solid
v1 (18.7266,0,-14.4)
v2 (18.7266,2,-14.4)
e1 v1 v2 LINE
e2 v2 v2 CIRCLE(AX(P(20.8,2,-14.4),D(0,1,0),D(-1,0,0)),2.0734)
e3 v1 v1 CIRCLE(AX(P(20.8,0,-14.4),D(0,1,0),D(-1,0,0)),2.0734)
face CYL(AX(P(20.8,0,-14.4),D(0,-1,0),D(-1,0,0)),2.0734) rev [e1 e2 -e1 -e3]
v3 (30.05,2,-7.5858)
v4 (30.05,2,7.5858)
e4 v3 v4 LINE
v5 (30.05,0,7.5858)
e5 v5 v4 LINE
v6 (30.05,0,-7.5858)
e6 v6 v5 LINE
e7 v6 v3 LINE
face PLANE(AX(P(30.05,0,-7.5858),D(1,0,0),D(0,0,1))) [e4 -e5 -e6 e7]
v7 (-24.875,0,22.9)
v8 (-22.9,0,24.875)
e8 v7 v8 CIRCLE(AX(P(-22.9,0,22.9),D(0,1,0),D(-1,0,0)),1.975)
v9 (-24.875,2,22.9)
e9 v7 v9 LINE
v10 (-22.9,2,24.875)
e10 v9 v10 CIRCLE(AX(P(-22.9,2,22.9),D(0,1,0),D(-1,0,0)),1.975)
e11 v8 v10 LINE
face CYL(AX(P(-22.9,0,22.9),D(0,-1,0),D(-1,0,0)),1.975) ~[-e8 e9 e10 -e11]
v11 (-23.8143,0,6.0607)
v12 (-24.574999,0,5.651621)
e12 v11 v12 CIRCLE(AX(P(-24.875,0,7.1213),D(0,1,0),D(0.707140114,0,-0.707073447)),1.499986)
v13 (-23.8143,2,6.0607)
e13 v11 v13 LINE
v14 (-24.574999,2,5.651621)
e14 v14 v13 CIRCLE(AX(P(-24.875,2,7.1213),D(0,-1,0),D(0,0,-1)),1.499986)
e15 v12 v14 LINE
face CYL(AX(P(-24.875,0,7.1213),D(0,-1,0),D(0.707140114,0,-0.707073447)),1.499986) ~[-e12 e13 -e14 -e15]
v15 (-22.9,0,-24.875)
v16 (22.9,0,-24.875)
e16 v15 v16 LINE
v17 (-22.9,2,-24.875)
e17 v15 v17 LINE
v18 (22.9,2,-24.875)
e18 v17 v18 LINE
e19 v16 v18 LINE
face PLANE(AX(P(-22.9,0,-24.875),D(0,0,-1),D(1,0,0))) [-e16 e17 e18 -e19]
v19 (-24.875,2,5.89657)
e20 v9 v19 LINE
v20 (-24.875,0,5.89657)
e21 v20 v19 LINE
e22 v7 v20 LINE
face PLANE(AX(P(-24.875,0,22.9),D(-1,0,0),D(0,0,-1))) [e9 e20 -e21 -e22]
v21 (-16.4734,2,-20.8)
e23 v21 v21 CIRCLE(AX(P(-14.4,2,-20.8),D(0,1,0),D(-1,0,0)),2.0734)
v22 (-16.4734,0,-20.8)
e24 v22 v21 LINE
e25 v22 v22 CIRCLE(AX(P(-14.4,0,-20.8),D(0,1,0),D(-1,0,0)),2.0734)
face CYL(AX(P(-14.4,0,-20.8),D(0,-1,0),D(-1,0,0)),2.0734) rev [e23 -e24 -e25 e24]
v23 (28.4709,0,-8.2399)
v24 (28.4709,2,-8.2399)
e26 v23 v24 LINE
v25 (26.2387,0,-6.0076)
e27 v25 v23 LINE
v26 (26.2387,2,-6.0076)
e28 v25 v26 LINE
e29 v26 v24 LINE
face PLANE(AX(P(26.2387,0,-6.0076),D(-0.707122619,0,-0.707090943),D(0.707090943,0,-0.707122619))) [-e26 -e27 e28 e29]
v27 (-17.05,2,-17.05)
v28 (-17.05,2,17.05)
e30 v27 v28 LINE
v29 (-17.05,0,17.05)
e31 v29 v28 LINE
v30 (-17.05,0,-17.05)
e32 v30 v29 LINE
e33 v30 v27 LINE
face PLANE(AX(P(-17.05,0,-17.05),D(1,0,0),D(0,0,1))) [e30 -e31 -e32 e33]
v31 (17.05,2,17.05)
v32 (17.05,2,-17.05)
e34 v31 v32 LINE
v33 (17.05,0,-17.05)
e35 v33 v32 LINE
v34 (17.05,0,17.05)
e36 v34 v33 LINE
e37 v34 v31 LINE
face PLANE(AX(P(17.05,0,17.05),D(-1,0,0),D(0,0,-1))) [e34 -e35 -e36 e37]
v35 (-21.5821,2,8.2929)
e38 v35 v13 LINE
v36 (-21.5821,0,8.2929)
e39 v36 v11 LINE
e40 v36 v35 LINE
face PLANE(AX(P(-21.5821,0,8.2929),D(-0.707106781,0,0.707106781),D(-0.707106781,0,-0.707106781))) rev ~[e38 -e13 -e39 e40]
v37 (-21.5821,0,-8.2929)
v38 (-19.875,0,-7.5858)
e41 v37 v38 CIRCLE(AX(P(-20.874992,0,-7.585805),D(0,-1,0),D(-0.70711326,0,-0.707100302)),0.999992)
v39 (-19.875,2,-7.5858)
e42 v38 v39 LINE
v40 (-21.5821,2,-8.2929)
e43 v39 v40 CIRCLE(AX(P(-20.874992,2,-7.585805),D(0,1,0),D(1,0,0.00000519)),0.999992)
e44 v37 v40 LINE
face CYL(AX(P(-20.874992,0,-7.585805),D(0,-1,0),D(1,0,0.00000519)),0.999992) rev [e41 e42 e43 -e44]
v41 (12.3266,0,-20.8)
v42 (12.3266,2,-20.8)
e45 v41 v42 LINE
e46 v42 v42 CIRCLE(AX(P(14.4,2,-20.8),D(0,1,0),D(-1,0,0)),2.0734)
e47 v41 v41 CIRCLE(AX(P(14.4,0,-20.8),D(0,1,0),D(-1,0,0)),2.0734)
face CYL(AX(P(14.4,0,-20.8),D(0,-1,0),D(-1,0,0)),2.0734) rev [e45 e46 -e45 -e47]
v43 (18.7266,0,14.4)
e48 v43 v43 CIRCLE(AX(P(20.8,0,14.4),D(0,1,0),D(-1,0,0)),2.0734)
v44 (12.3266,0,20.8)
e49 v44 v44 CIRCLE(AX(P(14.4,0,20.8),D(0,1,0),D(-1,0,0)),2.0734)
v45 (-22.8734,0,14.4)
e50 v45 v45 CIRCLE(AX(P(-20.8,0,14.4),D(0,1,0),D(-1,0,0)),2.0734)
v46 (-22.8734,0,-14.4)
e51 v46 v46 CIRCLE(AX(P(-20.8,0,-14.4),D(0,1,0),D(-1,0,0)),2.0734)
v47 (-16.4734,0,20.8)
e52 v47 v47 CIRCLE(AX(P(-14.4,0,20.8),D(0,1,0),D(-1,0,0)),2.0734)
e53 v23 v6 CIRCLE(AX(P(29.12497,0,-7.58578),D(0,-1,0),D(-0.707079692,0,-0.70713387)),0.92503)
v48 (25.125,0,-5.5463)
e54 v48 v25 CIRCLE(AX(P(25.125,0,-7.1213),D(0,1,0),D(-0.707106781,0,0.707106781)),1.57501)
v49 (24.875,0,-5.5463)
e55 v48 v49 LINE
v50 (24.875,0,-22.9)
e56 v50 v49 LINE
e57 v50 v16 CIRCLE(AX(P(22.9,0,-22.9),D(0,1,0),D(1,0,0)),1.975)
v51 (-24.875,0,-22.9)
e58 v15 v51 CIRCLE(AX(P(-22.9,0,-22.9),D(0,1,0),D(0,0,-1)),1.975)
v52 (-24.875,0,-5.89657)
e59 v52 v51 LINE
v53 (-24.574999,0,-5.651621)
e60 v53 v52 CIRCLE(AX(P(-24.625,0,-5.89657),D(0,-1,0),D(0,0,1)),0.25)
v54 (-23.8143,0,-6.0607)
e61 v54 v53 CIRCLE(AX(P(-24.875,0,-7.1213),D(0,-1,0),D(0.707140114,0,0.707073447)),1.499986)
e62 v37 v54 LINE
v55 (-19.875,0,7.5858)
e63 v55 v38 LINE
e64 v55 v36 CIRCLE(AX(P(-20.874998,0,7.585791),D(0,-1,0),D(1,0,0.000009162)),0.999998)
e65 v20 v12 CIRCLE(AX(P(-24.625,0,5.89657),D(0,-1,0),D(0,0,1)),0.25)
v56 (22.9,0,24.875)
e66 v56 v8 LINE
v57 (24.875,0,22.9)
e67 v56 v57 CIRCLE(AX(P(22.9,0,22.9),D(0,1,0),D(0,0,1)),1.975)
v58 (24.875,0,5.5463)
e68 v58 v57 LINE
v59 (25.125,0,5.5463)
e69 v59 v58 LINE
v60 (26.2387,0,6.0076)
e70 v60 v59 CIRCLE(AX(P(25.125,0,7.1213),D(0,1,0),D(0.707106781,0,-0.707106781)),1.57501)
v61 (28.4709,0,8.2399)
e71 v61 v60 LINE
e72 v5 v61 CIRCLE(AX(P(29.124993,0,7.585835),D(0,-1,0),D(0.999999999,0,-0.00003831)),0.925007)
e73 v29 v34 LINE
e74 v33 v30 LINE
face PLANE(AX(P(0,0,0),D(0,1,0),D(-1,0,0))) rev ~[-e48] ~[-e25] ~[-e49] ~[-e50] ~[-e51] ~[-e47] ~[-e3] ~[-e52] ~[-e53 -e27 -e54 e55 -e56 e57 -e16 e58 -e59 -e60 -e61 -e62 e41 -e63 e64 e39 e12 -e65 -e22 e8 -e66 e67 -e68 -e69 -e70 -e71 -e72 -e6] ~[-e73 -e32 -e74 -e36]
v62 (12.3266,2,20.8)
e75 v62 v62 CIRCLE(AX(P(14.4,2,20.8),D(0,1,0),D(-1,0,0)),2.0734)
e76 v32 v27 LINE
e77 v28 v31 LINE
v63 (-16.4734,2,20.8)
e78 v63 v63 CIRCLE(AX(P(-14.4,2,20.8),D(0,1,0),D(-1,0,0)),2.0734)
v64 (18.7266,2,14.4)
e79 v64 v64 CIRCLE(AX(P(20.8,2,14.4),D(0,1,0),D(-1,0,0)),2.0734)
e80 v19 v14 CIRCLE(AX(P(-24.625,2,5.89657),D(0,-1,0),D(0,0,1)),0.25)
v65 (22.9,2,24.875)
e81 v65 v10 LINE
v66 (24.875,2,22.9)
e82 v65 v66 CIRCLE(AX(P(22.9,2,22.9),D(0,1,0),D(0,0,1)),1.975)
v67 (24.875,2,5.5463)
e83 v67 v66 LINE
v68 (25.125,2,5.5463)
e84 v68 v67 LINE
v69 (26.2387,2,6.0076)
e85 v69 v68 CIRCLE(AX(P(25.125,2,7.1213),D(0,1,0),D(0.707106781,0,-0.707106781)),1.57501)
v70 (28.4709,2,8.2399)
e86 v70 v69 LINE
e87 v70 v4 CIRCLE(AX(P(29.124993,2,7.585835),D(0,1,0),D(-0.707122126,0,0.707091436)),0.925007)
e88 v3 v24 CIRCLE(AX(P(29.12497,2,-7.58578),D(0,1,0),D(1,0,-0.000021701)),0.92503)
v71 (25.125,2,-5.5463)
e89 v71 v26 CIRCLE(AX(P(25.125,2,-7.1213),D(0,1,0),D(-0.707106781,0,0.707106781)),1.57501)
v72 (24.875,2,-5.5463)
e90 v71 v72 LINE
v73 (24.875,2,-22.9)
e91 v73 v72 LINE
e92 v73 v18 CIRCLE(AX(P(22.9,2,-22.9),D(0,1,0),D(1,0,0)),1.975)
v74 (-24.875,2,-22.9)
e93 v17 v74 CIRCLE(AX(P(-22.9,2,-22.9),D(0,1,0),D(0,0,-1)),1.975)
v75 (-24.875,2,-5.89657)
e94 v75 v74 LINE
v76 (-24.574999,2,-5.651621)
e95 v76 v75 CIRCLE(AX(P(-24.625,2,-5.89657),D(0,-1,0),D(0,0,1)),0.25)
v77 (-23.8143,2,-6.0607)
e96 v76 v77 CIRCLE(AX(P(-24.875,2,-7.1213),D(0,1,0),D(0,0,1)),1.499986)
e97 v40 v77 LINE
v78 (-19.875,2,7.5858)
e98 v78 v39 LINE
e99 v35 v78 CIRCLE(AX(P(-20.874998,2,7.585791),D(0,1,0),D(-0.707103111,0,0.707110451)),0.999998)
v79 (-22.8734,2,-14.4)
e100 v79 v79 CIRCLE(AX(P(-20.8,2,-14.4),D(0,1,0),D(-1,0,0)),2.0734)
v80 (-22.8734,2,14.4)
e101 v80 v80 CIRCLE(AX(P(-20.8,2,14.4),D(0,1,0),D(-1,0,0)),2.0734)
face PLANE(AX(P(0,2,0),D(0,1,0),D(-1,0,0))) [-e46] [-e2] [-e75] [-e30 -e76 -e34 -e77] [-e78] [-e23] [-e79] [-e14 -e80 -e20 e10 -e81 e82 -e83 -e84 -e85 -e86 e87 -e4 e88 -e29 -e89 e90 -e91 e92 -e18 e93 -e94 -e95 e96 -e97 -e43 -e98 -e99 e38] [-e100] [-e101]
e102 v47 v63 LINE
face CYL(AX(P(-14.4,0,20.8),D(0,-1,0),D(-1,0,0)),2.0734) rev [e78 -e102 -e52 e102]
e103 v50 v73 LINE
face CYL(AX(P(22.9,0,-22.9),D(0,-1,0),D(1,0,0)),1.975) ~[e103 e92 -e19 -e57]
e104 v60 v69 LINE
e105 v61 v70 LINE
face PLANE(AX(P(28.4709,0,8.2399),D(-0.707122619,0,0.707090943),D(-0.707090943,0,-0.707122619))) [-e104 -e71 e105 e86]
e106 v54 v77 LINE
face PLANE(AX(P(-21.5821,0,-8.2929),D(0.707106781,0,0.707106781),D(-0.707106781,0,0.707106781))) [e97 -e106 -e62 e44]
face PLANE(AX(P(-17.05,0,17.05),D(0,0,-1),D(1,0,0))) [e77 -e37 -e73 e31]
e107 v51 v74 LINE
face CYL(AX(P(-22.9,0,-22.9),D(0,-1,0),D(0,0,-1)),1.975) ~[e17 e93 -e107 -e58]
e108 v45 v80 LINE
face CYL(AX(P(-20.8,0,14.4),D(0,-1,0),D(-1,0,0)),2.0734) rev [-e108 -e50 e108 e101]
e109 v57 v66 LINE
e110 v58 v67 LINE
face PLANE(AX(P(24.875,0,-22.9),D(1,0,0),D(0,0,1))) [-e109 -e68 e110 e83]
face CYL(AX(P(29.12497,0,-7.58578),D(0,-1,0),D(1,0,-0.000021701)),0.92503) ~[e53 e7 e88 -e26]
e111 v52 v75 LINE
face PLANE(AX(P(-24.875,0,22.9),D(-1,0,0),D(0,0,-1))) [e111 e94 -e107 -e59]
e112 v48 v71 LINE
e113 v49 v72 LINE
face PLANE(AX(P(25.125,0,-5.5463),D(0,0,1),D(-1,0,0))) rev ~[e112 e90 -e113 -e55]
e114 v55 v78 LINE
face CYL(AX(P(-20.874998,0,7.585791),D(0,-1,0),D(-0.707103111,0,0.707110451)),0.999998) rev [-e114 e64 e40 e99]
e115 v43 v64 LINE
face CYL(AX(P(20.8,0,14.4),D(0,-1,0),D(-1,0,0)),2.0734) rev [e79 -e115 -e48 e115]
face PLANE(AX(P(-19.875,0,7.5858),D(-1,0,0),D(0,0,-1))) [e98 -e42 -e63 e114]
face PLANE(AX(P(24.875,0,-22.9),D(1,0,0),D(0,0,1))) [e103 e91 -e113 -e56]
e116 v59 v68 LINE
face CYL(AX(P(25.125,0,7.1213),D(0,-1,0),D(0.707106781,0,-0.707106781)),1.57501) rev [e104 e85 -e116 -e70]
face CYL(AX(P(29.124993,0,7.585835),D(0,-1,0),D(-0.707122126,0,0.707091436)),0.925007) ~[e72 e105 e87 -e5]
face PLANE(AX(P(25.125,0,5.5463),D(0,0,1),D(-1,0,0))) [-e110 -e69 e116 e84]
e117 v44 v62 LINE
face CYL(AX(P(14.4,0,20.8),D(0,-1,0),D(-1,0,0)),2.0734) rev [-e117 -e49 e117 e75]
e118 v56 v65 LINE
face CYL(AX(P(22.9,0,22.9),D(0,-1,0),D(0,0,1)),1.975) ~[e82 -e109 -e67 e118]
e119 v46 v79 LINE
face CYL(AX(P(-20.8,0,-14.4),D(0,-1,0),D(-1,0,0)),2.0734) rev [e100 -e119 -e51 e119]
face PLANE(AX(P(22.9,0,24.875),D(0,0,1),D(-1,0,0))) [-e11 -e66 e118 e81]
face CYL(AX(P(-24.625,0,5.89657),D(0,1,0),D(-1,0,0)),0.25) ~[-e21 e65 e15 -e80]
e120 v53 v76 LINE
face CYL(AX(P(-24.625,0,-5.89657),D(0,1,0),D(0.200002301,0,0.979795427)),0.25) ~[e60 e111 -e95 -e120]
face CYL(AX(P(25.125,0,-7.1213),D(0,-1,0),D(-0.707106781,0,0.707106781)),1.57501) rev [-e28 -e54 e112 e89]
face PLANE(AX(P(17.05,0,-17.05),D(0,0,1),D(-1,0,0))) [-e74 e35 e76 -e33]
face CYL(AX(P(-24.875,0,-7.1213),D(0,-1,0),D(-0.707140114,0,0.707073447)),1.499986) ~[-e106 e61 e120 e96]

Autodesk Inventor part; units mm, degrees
ref_plane "YZ Plane" through (0, 0, 0) normal (1, 0, 0) x (0, 1, 0)
ref_plane "XZ Plane" through (0, 0, 0) normal (0, 1, 0) x (-1, 0, 0)
ref_plane "XY Plane" through (0, 0, 0) normal (0, 0, 1) x (1, 0, 0)
sketch "Sketch1" plane through (0, 0, 0) normal (0, 1, 0) x (-1, 0, 0)
  circle A0 centre (-21.9, -21.9) radius 1.875 projected
  circle A1 centre (21.9, 21.9) radius 1.875 projected
  circle A2 centre (21.9, -21.9) radius 1.875 projected
  circle A3 centre (-21.9, 21.9) radius 1.875 projected
  circle A4 centre (14.4, 20.8) radius 2.0734 projected
  circle A5 centre (-14.4, -20.8) radius 2.0734 projected
  circle A6 centre (14.4, -20.8) radius 2.0734 projected
  circle A7 centre (20.8, -14.4) radius 2.0734 projected
  line L0 (-17.05, 17.05) -> (-17.05, -17.05) projected
  line L1 (17.05, 17.05) -> (-17.05, 17.05) projected
  line L2 (17.05, -17.05) -> (17.05, 17.05) projected
  line L3 (-17.05, -17.05) -> (17.05, -17.05) projected
  circle A8 centre (20.8, 14.4) radius 2.0734 projected
  circle A9 centre (-14.4, 20.8) radius 2.0734 projected
  circle A10 centre (-20.8, -14.4) radius 2.0734 projected
  circle A11 centre (-20.8, 14.4) radius 2.0734 projected
  line L4 (-22.9, 24.875) -> (22.9, 24.875) projected
  arc A12 (-22.9, 24.875) -> (-24.875, 22.9) centre (-22.9, 22.9) ccw projected
  line L5 (-24.875, -22.9) -> (-24.875, 22.9) projected
  arc A13 (-24.875, -22.9) -> (-22.9, -24.875) centre (-22.9, -22.9) ccw projected
  line L6 (22.9, -24.875) -> (-22.9, -24.875) projected
  arc A14 (22.9, -24.875) -> (24.875, -22.9) centre (22.9, -22.9) ccw projected
  line L7 (24.875, 22.9) -> (24.875, -22.9) projected
  arc A15 (24.875, 22.9) -> (22.9, 24.875) centre (22.9, 22.9) ccw projected
  arc A16 (24.9, 22.9) -> (22.9, 24.9) centre (22.9, 22.9) ccw projected
  line L8 (22.9, 24.9) -> (-22.9, 24.9) projected
  arc A17 (-22.9, 24.9) -> (-24.9, 22.9) centre (-22.9, 22.9) ccw projected
  line L9 (-24.9, 22.9) -> (-24.9, -22.9) projected
  arc A18 (-24.9, -22.9) -> (-22.9, -24.9) centre (-22.9, -22.9) ccw projected
  line L10 (-22.9, -24.9) -> (22.9, -24.9) projected
  arc A19 (22.9, -24.9) -> (24.9, -22.9) centre (22.9, -22.9) ccw projected
  line L11 (24.9, -22.9) -> (24.9, 22.9) projected
  point P0 (0, 0)
extrude "Extrusion1" add sketch "Sketch1" along normal blind 2 contours A0 | A1 | A2 | A3 | L4 A15 L7 A14 L6 A13 L5 A12
sketch "Sketch2" plane through (0, 0, 0) normal (0, 1, 0) x (-1, 0, 0)
  line L0 (-7.5858, -29.875) -> (7.5858, -29.875)
  line L1 (10, -29.875) -> (10, -19.875)
  line L2 (7.5858, -19.875) -> (-7.5858, -19.875)
  line L3 (-10, -19.875) -> (-10, -29.875)
  line L4 (-10, -29.875) -> (10, -19.875) construction
  line L5 (10, -29.875) -> (-10, -19.875) construction
  line L6 (-8.2929, -21.5821) -> (-6.0607, -23.8143)
  line L7 (-10, -19.875) -> (-6.8431, -19.875) construction
  line L8 (8.2929, -21.5821) -> (6.0607, -23.8143)
  line L9 (-8.2929, -28.1679) -> (-6.0607, -25.9357)
  line L10 (8.2929, -28.1679) -> (6.0607, -25.9357)
  arc A0 (-8.2929, -28.1679) -> (-7.5858, -29.875) centre (-7.5858, -28.875) ccw
  arc A1 (7.5858, -29.875) -> (8.2929, -28.1679) centre (7.5858, -28.875) ccw
  arc A2 (-6.0607, -25.9357) -> (-6.0607, -23.8143) centre (-7.1213, -24.875) ccw
  arc A3 (6.0607, -23.8143) -> (6.0607, -25.9357) centre (7.1213, -24.875) ccw
  arc A4 (-7.5858, -19.875) -> (-8.2929, -21.5821) centre (-7.5858, -20.875) ccw
  arc A5 (8.2929, -21.5821) -> (7.5858, -19.875) centre (7.5858, -20.875) ccw
  line L11 (-7.5858, -19.95) -> (7.5858, -19.95)
  arc A6 (8.2399, -21.5291) -> (7.5858, -19.95) centre (7.5858, -20.875) ccw
  line L12 (8.2399, -21.5291) -> (6.0076, -23.7613)
  arc A7 (6.0076, -23.7613) -> (6.0076, -25.9887) centre (7.1213, -24.875) ccw
  line L13 (6.0076, -25.9887) -> (8.2399, -28.2209)
  arc A8 (7.5858, -29.8) -> (8.2399, -28.2209) centre (7.5858, -28.875) ccw
  line L14 (7.5858, -29.8) -> (-7.5858, -29.8)
  arc A9 (-8.2399, -28.2209) -> (-7.5858, -29.8) centre (-7.5858, -28.875) ccw
  line L15 (-8.2399, -28.2209) -> (-6.0076, -25.9887)
  arc A10 (-6.0076, -25.9887) -> (-6.0076, -23.7613) centre (-7.1213, -24.875) ccw
  line L16 (-6.0076, -23.7613) -> (-8.2399, -21.5291)
  arc A11 (-7.5858, -19.95) -> (-8.2399, -21.5291) centre (-7.5858, -20.875) ccw
  line L17 (-8.2399, 21.7791) -> (-6.0076, 24.0113)
  line L18 (-7.5858, 30.05) -> (7.5858, 30.05)
  line L19 (7.5858, 20.2) -> (-7.5858, 20.2)
  line L20 (-7.5858, 20.125) -> (7.5858, 20.125)
  line L21 (7.5858, 30.125) -> (-7.5858, 30.125)
  line L22 (10, 20.125) -> (-10, 30.125) construction
  line L23 (-10, 20.125) -> (10, 30.125) construction
  arc A12 (-6.0076, 24.0113) -> (-6.0076, 26.2387) centre (-7.1213, 25.125) ccw
  arc A13 (-6.0607, 24.0643) -> (-6.0607, 26.1857) centre (-7.1213, 25.125) ccw
  arc A14 (-7.5858, 30.05) -> (-8.2399, 28.4709) centre (-7.5858, 29.125) ccw
  arc A15 (-7.5858, 30.125) -> (-8.2929, 28.4179) centre (-7.5858, 29.125) ccw
  line L24 (-8.2929, 28.4179) -> (-6.0607, 26.1857)
  line L25 (-10, 30.125) -> (-6.8431, 30.125) construction
  line L26 (-10, 30.125) -> (-10, 20.125)
  arc A16 (-8.2399, 21.7791) -> (-7.5858, 20.2) centre (-7.5858, 21.125) ccw
  arc A17 (-8.2929, 21.8321) -> (-7.5858, 20.125) centre (-7.5858, 21.125) ccw
  line L27 (-8.2929, 21.8321) -> (-6.0607, 24.0643)
  line L28 (-6.0076, 26.2387) -> (-8.2399, 28.4709)
  line L29 (10, 20.125) -> (10, 30.125)
  line L30 (8.2929, 28.4179) -> (6.0607, 26.1857)
  line L31 (8.2929, 21.8321) -> (6.0607, 24.0643)
  arc A18 (7.5858, 20.125) -> (8.2929, 21.8321) centre (7.5858, 21.125) ccw
  arc A19 (6.0076, 26.2387) -> (6.0076, 24.0113) centre (7.1213, 25.125) ccw
  arc A20 (6.0607, 26.1857) -> (6.0607, 24.0643) centre (7.1213, 25.125) ccw
  arc A21 (7.5858, 20.2) -> (8.2399, 21.7791) centre (7.5858, 21.125) ccw
  line L32 (6.0076, 24.0113) -> (8.2399, 21.7791)
  line L33 (8.2399, 28.4709) -> (6.0076, 26.2387)
  arc A22 (8.2929, 28.4179) -> (7.5858, 30.125) centre (7.5858, 29.125) ccw
  arc A23 (8.2399, 28.4709) -> (7.5858, 30.05) centre (7.5858, 29.125) ccw
  line L34 (0, 24.875) -> (0, 25.125)
  line L35 (-22.9, -24.875) -> (22.9, -24.875) projected
  line L36 (22.9, 24.875) -> (-22.9, 24.875) projected
  line L37 (0, -24.875) -> (0, -24.875)
  line L38 (5.6213, 25.125) -> (5.5463, 25.125)
  line L39 (5.5463, 25.125) -> (5.5463, 24.875)
  line L40 (5.5463, 24.875) -> (5.6213, 24.875)
  line L41 (5.6213, 24.875) -> (5.6213, 25.125)
  line L42 (-5.6213, 25.125) -> (-5.5463, 25.125)
  line L43 (-5.5463, 25.125) -> (-5.5463, 24.875)
  line L44 (-5.5463, 24.875) -> (-5.6213, 24.875)
  line L45 (-5.6213, 24.875) -> (-5.6213, 25.125)
  line L46 (-5.6213, -24.875) -> (-5.5463, -24.875)
  line L47 (-5.5463, -24.875) -> (-5.5463, -24.875)
  line L48 (-5.5463, -24.875) -> (-5.6213, -24.875)
  line L49 (-5.6213, -24.875) -> (-5.6213, -24.875)
  line L50 (5.6213, -24.875) -> (5.5463, -24.875)
  line L51 (5.5463, -24.875) -> (5.5463, -24.875)
  line L52 (5.5463, -24.875) -> (5.6213, -24.875)
  line L53 (5.6213, -24.875) -> (5.6213, -24.875)
  arc A24 (19.95, -7.5858) -> (21.5291, -8.2399) centre (20.875, -7.5858) ccw
  arc A25 (19.875, -7.5858) -> (21.5821, -8.2929) centre (20.875, -7.5858) ccw
  line L54 (21.5821, -8.2929) -> (23.8143, -6.0607)
  line L55 (23.7613, -6.0076) -> (21.5291, -8.2399)
  arc A26 (25.9357, -6.0607) -> (23.8143, -6.0607) centre (24.875, -7.1213) ccw
  arc A27 (25.9887, -6.0076) -> (23.7613, -6.0076) centre (24.875, -7.1213) ccw
  line L56 (29.875, -7.5858) -> (29.875, 7.5858)
  line L57 (29.8, 7.5858) -> (29.8, -7.5858)
  line L58 (19.95, -7.5858) -> (19.95, 7.5858)
  line L59 (19.875, 7.5858) -> (19.875, -7.5858)
  line L60 (28.2209, -8.2399) -> (25.9887, -6.0076)
  line L61 (21.5821, 8.2929) -> (23.8143, 6.0607)
  line L62 (28.1679, 8.2929) -> (25.9357, 6.0607)
  arc A28 (29.875, 7.5858) -> (28.1679, 8.2929) centre (28.875, 7.5858) ccw
  arc A29 (23.7613, 6.0076) -> (25.9887, 6.0076) centre (24.875, 7.1213) ccw
  line L63 (24.875, 5.5463) -> (24.875, 5.5463)
  line L64 (24.875, 5.6213) -> (24.875, 5.5463)
  line L65 (24.875, 5.5463) -> (24.875, 5.6213)
  line L66 (24.875, 5.6213) -> (24.875, 5.6213)
  arc A30 (23.8143, 6.0607) -> (25.9357, 6.0607) centre (24.875, 7.1213) ccw
  line L67 (25.9887, 6.0076) -> (28.2209, 8.2399)
  arc A31 (29.8, 7.5858) -> (28.2209, 8.2399) centre (28.875, 7.5858) ccw
  line L68 (21.5291, 8.2399) -> (23.7613, 6.0076)
  arc A32 (21.5291, 8.2399) -> (19.95, 7.5858) centre (20.875, 7.5858) ccw
  arc A33 (21.5821, 8.2929) -> (19.875, 7.5858) centre (20.875, 7.5858) ccw
  line L69 (24.875, -5.5463) -> (24.875, -5.5463)
  line L70 (24.875, -5.5463) -> (24.875, -5.6213)
  line L71 (24.875, -5.6213) -> (24.875, -5.5463)
  line L72 (24.875, -5.6213) -> (24.875, -5.6213)
  line L73 (24.875, 0) -> (24.875, 0)
  line L74 (28.1679, -8.2929) -> (25.9357, -6.0607)
  arc A34 (28.1679, -8.2929) -> (29.875, -7.5858) centre (28.875, -7.5858) ccw
  arc A35 (28.2209, -8.2399) -> (29.8, -7.5858) centre (28.875, -7.5858) ccw
  line L75 (-25.125, 5.6213) -> (-25.125, 5.5463)
  arc A36 (-28.4709, 8.2399) -> (-30.05, 7.5858) centre (-29.125, 7.5858) ccw
  arc A37 (-28.4179, 8.2929) -> (-30.125, 7.5858) centre (-29.125, 7.5858) ccw
  line L76 (-28.4179, 8.2929) -> (-26.1857, 6.0607)
  line L77 (-24.875, 5.5463) -> (-24.875, 5.6213)
  arc A38 (-26.2387, 6.0076) -> (-24.0113, 6.0076) centre (-25.125, 7.1213) ccw
  line L78 (-21.8321, 8.2929) -> (-24.0643, 6.0607)
  line L79 (-24.875, 0) -> (-25.125, 0)
  arc A39 (-20.2, 7.5858) -> (-21.7791, 8.2399) centre (-21.125, 7.5858) ccw
  arc A40 (-20.125, 7.5858) -> (-21.8321, 8.2929) centre (-21.125, 7.5858) ccw
  line L80 (-30.05, -7.5858) -> (-30.05, 7.5858)
  line L81 (-30.125, 7.5858) -> (-30.125, -7.5858)
  line L82 (-20.2, 7.5858) -> (-20.2, -7.5858)
  line L83 (-20.125, -7.5858) -> (-20.125, 7.5858)
  line L84 (-24.875, 5.6213) -> (-25.125, 5.6213)
  arc A41 (-26.1857, 6.0607) -> (-24.0643, 6.0607) centre (-25.125, 7.1213) ccw
  line L85 (-24.0113, 6.0076) -> (-21.7791, 8.2399)
  line L86 (-25.125, 5.5463) -> (-24.875, 5.5463)
  line L87 (-28.4709, 8.2399) -> (-26.2387, 6.0076)
  line L88 (-25.125, -5.5463) -> (-24.875, -5.5463)
  line L89 (-24.875, -5.5463) -> (-24.875, -5.6213)
  line L90 (-24.875, -5.6213) -> (-25.125, -5.6213)
  line L91 (-25.125, -5.6213) -> (-25.125, -5.5463)
  arc A42 (-30.05, -7.5858) -> (-28.4709, -8.2399) centre (-29.125, -7.5858) ccw
  arc A43 (-21.8321, -8.2929) -> (-20.125, -7.5858) centre (-21.125, -7.5858) ccw
  arc A44 (-21.7791, -8.2399) -> (-20.2, -7.5858) centre (-21.125, -7.5858) ccw
  arc A45 (-24.0113, -6.0076) -> (-26.2387, -6.0076) centre (-25.125, -7.1213) ccw
  arc A46 (-24.0643, -6.0607) -> (-26.1857, -6.0607) centre (-25.125, -7.1213) ccw
  line L92 (-21.7791, -8.2399) -> (-24.0113, -6.0076)
  line L93 (-21.8321, -8.2929) -> (-24.0643, -6.0607)
  line L94 (-28.4179, -8.2929) -> (-26.1857, -6.0607)
  line L95 (-26.2387, -6.0076) -> (-28.4709, -8.2399)
  arc A47 (-30.125, -7.5858) -> (-28.4179, -8.2929) centre (-29.125, -7.5858) ccw
  arc A48 (7.5858, 19.95) -> (8.2399, 21.5291) centre (7.5858, 20.875) ccw
  arc A49 (7.5858, 19.875) -> (8.2929, 21.5821) centre (7.5858, 20.875) ccw
  line L96 (8.2929, 21.5821) -> (6.0607, 23.8143)
  line L97 (6.0076, 23.7613) -> (8.2399, 21.5291)
  arc A50 (6.0607, 25.9357) -> (6.0607, 23.8143) centre (7.1213, 24.875) ccw
  arc A51 (6.0076, 25.9887) -> (6.0076, 23.7613) centre (7.1213, 24.875) ccw
  line L98 (7.5858, 29.875) -> (-7.5858, 29.875)
  line L99 (-7.5858, 29.8) -> (7.5858, 29.8)
  line L100 (7.5858, 19.95) -> (-7.5858, 19.95)
  line L101 (-7.5858, 19.875) -> (7.5858, 19.875)
  line L102 (8.2399, 28.2209) -> (6.0076, 25.9887)
  line L103 (-8.2929, 21.5821) -> (-6.0607, 23.8143)
  line L104 (-8.2929, 28.1679) -> (-6.0607, 25.9357)
  arc A52 (-7.5858, 29.875) -> (-8.2929, 28.1679) centre (-7.5858, 28.875) ccw
  arc A53 (-6.0076, 23.7613) -> (-6.0076, 25.9887) centre (-7.1213, 24.875) ccw
  line L105 (-5.5463, 24.875) -> (-5.5463, 24.875)
  line L106 (-5.6213, 24.875) -> (-5.5463, 24.875)
  line L107 (-5.5463, 24.875) -> (-5.6213, 24.875)
  line L108 (-5.6213, 24.875) -> (-5.6213, 24.875)
  arc A54 (-6.0607, 23.8143) -> (-6.0607, 25.9357) centre (-7.1213, 24.875) ccw
  line L109 (-6.0076, 25.9887) -> (-8.2399, 28.2209)
  arc A55 (-7.5858, 29.8) -> (-8.2399, 28.2209) centre (-7.5858, 28.875) ccw
  line L110 (-8.2399, 21.5291) -> (-6.0076, 23.7613)
  arc A56 (-8.2399, 21.5291) -> (-7.5858, 19.95) centre (-7.5858, 20.875) ccw
  arc A57 (-8.2929, 21.5821) -> (-7.5858, 19.875) centre (-7.5858, 20.875) ccw
  line L111 (5.5463, 24.875) -> (5.5463, 24.875)
  line L112 (5.5463, 24.875) -> (5.6213, 24.875)
  line L113 (5.6213, 24.875) -> (5.5463, 24.875)
  line L114 (5.6213, 24.875) -> (5.6213, 24.875)
  line L115 (0, 24.875) -> (0, 24.875)
  line L116 (8.2929, 28.1679) -> (6.0607, 25.9357)
  arc A58 (8.2929, 28.1679) -> (7.5858, 29.875) centre (7.5858, 28.875) ccw
  arc A59 (8.2399, 28.2209) -> (7.5858, 29.8) centre (7.5858, 28.875) ccw
  line L117 (-5.6213, -25.125) -> (-5.5463, -25.125)
  arc A60 (-8.2399, -28.4709) -> (-7.5858, -30.05) centre (-7.5858, -29.125) ccw
  arc A61 (-8.2929, -28.4179) -> (-7.5858, -30.125) centre (-7.5858, -29.125) ccw
  line L118 (-8.2929, -28.4179) -> (-6.0607, -26.1857)
  line L119 (-5.5463, -24.875) -> (-5.6213, -24.875)
  arc A62 (-6.0076, -26.2387) -> (-6.0076, -24.0113) centre (-7.1213, -25.125) ccw
  line L120 (-8.2929, -21.8321) -> (-6.0607, -24.0643)
  line L121 (0, -24.875) -> (0, -25.125)
  arc A63 (-7.5858, -20.2) -> (-8.2399, -21.7791) centre (-7.5858, -21.125) ccw
  arc A64 (-7.5858, -20.125) -> (-8.2929, -21.8321) centre (-7.5858, -21.125) ccw
  line L122 (7.5858, -30.05) -> (-7.5858, -30.05)
  line L123 (-7.5858, -30.125) -> (7.5858, -30.125)
  line L124 (-7.5858, -20.2) -> (7.5858, -20.2)
  line L125 (7.5858, -20.125) -> (-7.5858, -20.125)
  line L126 (-5.6213, -24.875) -> (-5.6213, -25.125)
  arc A65 (-6.0607, -26.1857) -> (-6.0607, -24.0643) centre (-7.1213, -25.125) ccw
  line L127 (-6.0076, -24.0113) -> (-8.2399, -21.7791)
  line L128 (-5.5463, -25.125) -> (-5.5463, -24.875)
  line L129 (-8.2399, -28.4709) -> (-6.0076, -26.2387)
  line L130 (5.5463, -25.125) -> (5.5463, -24.875)
  line L131 (5.5463, -24.875) -> (5.6213, -24.875)
  line L132 (5.6213, -24.875) -> (5.6213, -25.125)
  line L133 (5.6213, -25.125) -> (5.5463, -25.125)
  arc A66 (7.5858, -30.05) -> (8.2399, -28.4709) centre (7.5858, -29.125) ccw
  arc A67 (8.2929, -21.8321) -> (7.5858, -20.125) centre (7.5858, -21.125) ccw
  arc A68 (8.2399, -21.7791) -> (7.5858, -20.2) centre (7.5858, -21.125) ccw
  arc A69 (6.0076, -24.0113) -> (6.0076, -26.2387) centre (7.1213, -25.125) ccw
  arc A70 (6.0607, -24.0643) -> (6.0607, -26.1857) centre (7.1213, -25.125) ccw
  line L134 (8.2399, -21.7791) -> (6.0076, -24.0113)
  line L135 (8.2929, -21.8321) -> (6.0607, -24.0643)
  line L136 (8.2929, -28.4179) -> (6.0607, -26.1857)
  line L137 (6.0076, -26.2387) -> (8.2399, -28.4709)
  arc A71 (7.5858, -30.125) -> (8.2929, -28.4179) centre (7.5858, -29.125) ccw
  arc A72 (-19.95, 7.5858) -> (-21.5291, 8.2399) centre (-20.875, 7.5858) ccw
  arc A73 (-19.875, 7.5858) -> (-21.5821, 8.2929) centre (-20.875, 7.5858) ccw
  line L138 (-21.5821, 8.2929) -> (-23.8143, 6.0607)
  line L139 (-23.7613, 6.0076) -> (-21.5291, 8.2399)
  arc A74 (-25.9357, 6.0607) -> (-23.8143, 6.0607) centre (-24.875, 7.1213) ccw
  arc A75 (-25.9887, 6.0076) -> (-23.7613, 6.0076) centre (-24.875, 7.1213) ccw
  line L140 (-29.875, 7.5858) -> (-29.875, -7.5858)
  line L141 (-29.8, -7.5858) -> (-29.8, 7.5858)
  line L142 (-19.95, 7.5858) -> (-19.95, -7.5858)
  line L143 (-19.875, -7.5858) -> (-19.875, 7.5858)
  line L144 (-28.2209, 8.2399) -> (-25.9887, 6.0076)
  line L145 (-21.5821, -8.2929) -> (-23.8143, -6.0607)
  line L146 (-28.1679, -8.2929) -> (-25.9357, -6.0607)
  arc A76 (-29.875, -7.5858) -> (-28.1679, -8.2929) centre (-28.875, -7.5858) ccw
  arc A77 (-23.7613, -6.0076) -> (-25.9887, -6.0076) centre (-24.875, -7.1213) ccw
  line L147 (-24.875, -5.5463) -> (-24.875, -5.5463)
  line L148 (-24.875, -5.6213) -> (-24.875, -5.5463)
  line L149 (-24.875, -5.5463) -> (-24.875, -5.6213)
  line L150 (-24.875, -5.6213) -> (-24.875, -5.6213)
  arc A78 (-23.8143, -6.0607) -> (-25.9357, -6.0607) centre (-24.875, -7.1213) ccw
  line L151 (-25.9887, -6.0076) -> (-28.2209, -8.2399)
  arc A79 (-29.8, -7.5858) -> (-28.2209, -8.2399) centre (-28.875, -7.5858) ccw
  line L152 (-21.5291, -8.2399) -> (-23.7613, -6.0076)
  arc A80 (-21.5291, -8.2399) -> (-19.95, -7.5858) centre (-20.875, -7.5858) ccw
  arc A81 (-21.5821, -8.2929) -> (-19.875, -7.5858) centre (-20.875, -7.5858) ccw
  line L153 (-24.875, 5.5463) -> (-24.875, 5.5463)
  line L154 (-24.875, 5.5463) -> (-24.875, 5.6213)
  line L155 (-24.875, 5.6213) -> (-24.875, 5.5463)
  line L156 (-24.875, 5.6213) -> (-24.875, 5.6213)
  line L157 (-24.875, 0) -> (-24.875, 0)
  line L158 (-28.1679, 8.2929) -> (-25.9357, 6.0607)
  arc A82 (-28.1679, 8.2929) -> (-29.875, 7.5858) centre (-28.875, 7.5858) ccw
  arc A83 (-28.2209, 8.2399) -> (-29.8, 7.5858) centre (-28.875, 7.5858) ccw
  line L159 (25.125, -5.6213) -> (25.125, -5.5463)
  arc A84 (28.4709, -8.2399) -> (30.05, -7.5858) centre (29.125, -7.5858) ccw
  arc A85 (28.4179, -8.2929) -> (30.125, -7.5858) centre (29.125, -7.5858) ccw
  line L160 (28.4179, -8.2929) -> (26.1857, -6.0607)
  line L161 (24.875, -5.5463) -> (24.875, -5.6213)
  arc A86 (26.2387, -6.0076) -> (24.0113, -6.0076) centre (25.125, -7.1213) ccw
  line L162 (21.8321, -8.2929) -> (24.0643, -6.0607)
  line L163 (24.875, 0) -> (25.125, 0)
  arc A87 (20.2, -7.5858) -> (21.7791, -8.2399) centre (21.125, -7.5858) ccw
  arc A88 (20.125, -7.5858) -> (21.8321, -8.2929) centre (21.125, -7.5858) ccw
  line L164 (30.05, 7.5858) -> (30.05, -7.5858)
  line L165 (30.125, -7.5858) -> (30.125, 7.5858)
  line L166 (20.2, -7.5858) -> (20.2, 7.5858)
  line L167 (20.125, 7.5858) -> (20.125, -7.5858)
  line L168 (24.875, -5.6213) -> (25.125, -5.6213)
  arc A89 (26.1857, -6.0607) -> (24.0643, -6.0607) centre (25.125, -7.1213) ccw
  line L169 (24.0113, -6.0076) -> (21.7791, -8.2399)
  line L170 (25.125, -5.5463) -> (24.875, -5.5463)
  line L171 (28.4709, -8.2399) -> (26.2387, -6.0076)
  line L172 (25.125, 5.5463) -> (24.875, 5.5463)
  line L173 (24.875, 5.5463) -> (24.875, 5.6213)
  line L174 (24.875, 5.6213) -> (25.125, 5.6213)
  line L175 (25.125, 5.6213) -> (25.125, 5.5463)
  arc A90 (30.05, 7.5858) -> (28.4709, 8.2399) centre (29.125, 7.5858) ccw
  arc A91 (21.8321, 8.2929) -> (20.125, 7.5858) centre (21.125, 7.5858) ccw
  arc A92 (21.7791, 8.2399) -> (20.2, 7.5858) centre (21.125, 7.5858) ccw
  arc A93 (24.0113, 6.0076) -> (26.2387, 6.0076) centre (25.125, 7.1213) ccw
  arc A94 (24.0643, 6.0607) -> (26.1857, 6.0607) centre (25.125, 7.1213) ccw
  line L176 (21.7791, 8.2399) -> (24.0113, 6.0076)
  line L177 (21.8321, 8.2929) -> (24.0643, 6.0607)
  line L178 (28.4179, 8.2929) -> (26.1857, 6.0607)
  line L179 (26.2387, 6.0076) -> (28.4709, 8.2399)
  arc A95 (30.125, 7.5858) -> (28.4179, 8.2929) centre (29.125, 7.5858) ccw
  line L180 (-22.9, -24.875) -> (22.9, -24.875) projected
  arc A96 (22.9, -24.875) -> (24.875, -22.9) centre (22.9, -22.9) ccw projected
  line L181 (24.875, -22.9) -> (24.875, 22.9) projected
  arc A97 (24.875, 22.9) -> (22.9, 24.875) centre (22.9, 22.9) ccw projected
  line L182 (22.9, 24.875) -> (-22.9, 24.875) projected
  arc A98 (-22.9, 24.875) -> (-24.875, 22.9) centre (-22.9, 22.9) ccw projected
  line L183 (-24.875, 22.9) -> (-24.875, -22.9) projected
  arc A99 (-24.875, -22.9) -> (-22.9, -24.875) centre (-22.9, -22.9) ccw projected
  circle A100 centre (-20.8, 14.4) radius 2.0734 projected
  circle A101 centre (-20.8, -14.4) radius 2.0734 projected
  circle A102 centre (-14.4, 20.8) radius 2.0734 projected
  circle A103 centre (20.8, 14.4) radius 2.0734 projected
  circle A104 centre (20.8, -14.4) radius 2.0734 projected
  circle A105 centre (14.4, -20.8) radius 2.0734 projected
  circle A106 centre (-14.4, -20.8) radius 2.0734 projected
  circle A107 centre (14.4, 20.8) radius 2.0734 projected
  line L184 (-17.05, 17.05) -> (17.05, 17.05) projected
  line L185 (17.05, 17.05) -> (17.05, -17.05) projected
  line L186 (17.05, -17.05) -> (-17.05, -17.05) projected
  line L187 (-17.05, -17.05) -> (-17.05, 17.05) projected
  point P0 (0, 0)
  point P1 (19.875, -6.8431)
  point P2 (19.875, -10)
  point P3 (29.875, -10)
  point P4 (29.875, 10)
  point P5 (19.875, 10)
  point P6 (-30.125, 10)
  point P7 (-20.125, 10)
  point P8 (-30.125, -10)
  point P9 (-20.125, -10)
  point P10 (-30.125, -6.8431)
  point P11 (6.8431, 19.875)
  point P12 (10, 19.875)
  point P13 (10, 29.875)
  point P14 (-10, 29.875)
  point P15 (-10, 19.875)
  point P16 (-10, -30.125)
  point P17 (-10, -20.125)
  point P18 (10, -30.125)
  point P19 (10, -20.125)
  point P20 (6.8431, -30.125)
  point P21 (-19.875, 6.8431)
  point P22 (-19.875, 10)
  point P23 (-29.875, 10)
  point P24 (-29.875, -10)
  point P25 (-19.875, -10)
  point P26 (30.125, -10)
  point P27 (20.125, -10)
  point P28 (30.125, 10)
  point P29 (20.125, 10)
  point P30 (30.125, 6.8431)
  point P31 (-21, 8.5023)
  point P32 (-24.625, 5.5463)
  point P33 (-25.125, 5.5463)
  point P34 (-25.125, -5.5463)
  point P35 (-24.625, -5.5463)
  point P36 (-21, -8.5023)
  point P37 (-5.5463, 25.125)
  point P38 (5.5463, 25.125)
  dimension "d19" = 20
  dimension "d20" = 10
  dimension "d21" = 45
  dimension "d22" = 1
  dimension "d23" = 1.5
  dimension "d24" = 1
  dimension "d25" = 0.075
  dimension "d28" = 15.1716
  dimension "d29" = 2.8787
  dimension "d30" = 2.8787
  dimension "d31" = 20
  dimension "d32" = 10
  dimension "d33" = 45
  dimension "d34" = 1
  dimension "d35" = 1.5
  dimension "d36" = 1
  dimension "d37" = 0.075
  dimension "d38" = 15.1716
  dimension "d39" = 2.8787
  dimension "d40" = 2.8787
  dimension "d41" = 0.25
  dimension "d42" = 0
  dimension "d45" = 360
extrude "Extrusion2" add sketch "Sketch2" along normal up to surface (2 mm away) contours L88 A45 L95 A42 A79 L141 A83 A36 L87 A38 L86 L183 | A76 L140 A82 A36 A83 L141 A79 A42 | A42 L80 A36 A82 L140 A76
extrude "Extrusion3" cut sketch "Sketch2" along normal up to surface (2 mm away) contours A26 A86 L70 | A26 L54 A25 A87 A24 L55 A27 L70 A86 | A88 A24 A87 A25 | A25 L59 A33 A91 A32 L58 A24 A88 | A27 L55 A24 A87 L166 A92 A32 L68 A29 L181 | A88 L167 A91 A32 A92 L166 A87 A24 | A24 L58 A32 A91 L167 A88 | A29 L68 A32 A92 A33 L61 A30 A93 L64 | A33 A92 A32 A91 | A93 A30 L64
fillet "Fillet1" radius 0.25 2 edges at (-24.875, 1, -5.6213) (-24.875, 1, 5.6213)
properties part number "Interlinking Baseplate Pathed"
